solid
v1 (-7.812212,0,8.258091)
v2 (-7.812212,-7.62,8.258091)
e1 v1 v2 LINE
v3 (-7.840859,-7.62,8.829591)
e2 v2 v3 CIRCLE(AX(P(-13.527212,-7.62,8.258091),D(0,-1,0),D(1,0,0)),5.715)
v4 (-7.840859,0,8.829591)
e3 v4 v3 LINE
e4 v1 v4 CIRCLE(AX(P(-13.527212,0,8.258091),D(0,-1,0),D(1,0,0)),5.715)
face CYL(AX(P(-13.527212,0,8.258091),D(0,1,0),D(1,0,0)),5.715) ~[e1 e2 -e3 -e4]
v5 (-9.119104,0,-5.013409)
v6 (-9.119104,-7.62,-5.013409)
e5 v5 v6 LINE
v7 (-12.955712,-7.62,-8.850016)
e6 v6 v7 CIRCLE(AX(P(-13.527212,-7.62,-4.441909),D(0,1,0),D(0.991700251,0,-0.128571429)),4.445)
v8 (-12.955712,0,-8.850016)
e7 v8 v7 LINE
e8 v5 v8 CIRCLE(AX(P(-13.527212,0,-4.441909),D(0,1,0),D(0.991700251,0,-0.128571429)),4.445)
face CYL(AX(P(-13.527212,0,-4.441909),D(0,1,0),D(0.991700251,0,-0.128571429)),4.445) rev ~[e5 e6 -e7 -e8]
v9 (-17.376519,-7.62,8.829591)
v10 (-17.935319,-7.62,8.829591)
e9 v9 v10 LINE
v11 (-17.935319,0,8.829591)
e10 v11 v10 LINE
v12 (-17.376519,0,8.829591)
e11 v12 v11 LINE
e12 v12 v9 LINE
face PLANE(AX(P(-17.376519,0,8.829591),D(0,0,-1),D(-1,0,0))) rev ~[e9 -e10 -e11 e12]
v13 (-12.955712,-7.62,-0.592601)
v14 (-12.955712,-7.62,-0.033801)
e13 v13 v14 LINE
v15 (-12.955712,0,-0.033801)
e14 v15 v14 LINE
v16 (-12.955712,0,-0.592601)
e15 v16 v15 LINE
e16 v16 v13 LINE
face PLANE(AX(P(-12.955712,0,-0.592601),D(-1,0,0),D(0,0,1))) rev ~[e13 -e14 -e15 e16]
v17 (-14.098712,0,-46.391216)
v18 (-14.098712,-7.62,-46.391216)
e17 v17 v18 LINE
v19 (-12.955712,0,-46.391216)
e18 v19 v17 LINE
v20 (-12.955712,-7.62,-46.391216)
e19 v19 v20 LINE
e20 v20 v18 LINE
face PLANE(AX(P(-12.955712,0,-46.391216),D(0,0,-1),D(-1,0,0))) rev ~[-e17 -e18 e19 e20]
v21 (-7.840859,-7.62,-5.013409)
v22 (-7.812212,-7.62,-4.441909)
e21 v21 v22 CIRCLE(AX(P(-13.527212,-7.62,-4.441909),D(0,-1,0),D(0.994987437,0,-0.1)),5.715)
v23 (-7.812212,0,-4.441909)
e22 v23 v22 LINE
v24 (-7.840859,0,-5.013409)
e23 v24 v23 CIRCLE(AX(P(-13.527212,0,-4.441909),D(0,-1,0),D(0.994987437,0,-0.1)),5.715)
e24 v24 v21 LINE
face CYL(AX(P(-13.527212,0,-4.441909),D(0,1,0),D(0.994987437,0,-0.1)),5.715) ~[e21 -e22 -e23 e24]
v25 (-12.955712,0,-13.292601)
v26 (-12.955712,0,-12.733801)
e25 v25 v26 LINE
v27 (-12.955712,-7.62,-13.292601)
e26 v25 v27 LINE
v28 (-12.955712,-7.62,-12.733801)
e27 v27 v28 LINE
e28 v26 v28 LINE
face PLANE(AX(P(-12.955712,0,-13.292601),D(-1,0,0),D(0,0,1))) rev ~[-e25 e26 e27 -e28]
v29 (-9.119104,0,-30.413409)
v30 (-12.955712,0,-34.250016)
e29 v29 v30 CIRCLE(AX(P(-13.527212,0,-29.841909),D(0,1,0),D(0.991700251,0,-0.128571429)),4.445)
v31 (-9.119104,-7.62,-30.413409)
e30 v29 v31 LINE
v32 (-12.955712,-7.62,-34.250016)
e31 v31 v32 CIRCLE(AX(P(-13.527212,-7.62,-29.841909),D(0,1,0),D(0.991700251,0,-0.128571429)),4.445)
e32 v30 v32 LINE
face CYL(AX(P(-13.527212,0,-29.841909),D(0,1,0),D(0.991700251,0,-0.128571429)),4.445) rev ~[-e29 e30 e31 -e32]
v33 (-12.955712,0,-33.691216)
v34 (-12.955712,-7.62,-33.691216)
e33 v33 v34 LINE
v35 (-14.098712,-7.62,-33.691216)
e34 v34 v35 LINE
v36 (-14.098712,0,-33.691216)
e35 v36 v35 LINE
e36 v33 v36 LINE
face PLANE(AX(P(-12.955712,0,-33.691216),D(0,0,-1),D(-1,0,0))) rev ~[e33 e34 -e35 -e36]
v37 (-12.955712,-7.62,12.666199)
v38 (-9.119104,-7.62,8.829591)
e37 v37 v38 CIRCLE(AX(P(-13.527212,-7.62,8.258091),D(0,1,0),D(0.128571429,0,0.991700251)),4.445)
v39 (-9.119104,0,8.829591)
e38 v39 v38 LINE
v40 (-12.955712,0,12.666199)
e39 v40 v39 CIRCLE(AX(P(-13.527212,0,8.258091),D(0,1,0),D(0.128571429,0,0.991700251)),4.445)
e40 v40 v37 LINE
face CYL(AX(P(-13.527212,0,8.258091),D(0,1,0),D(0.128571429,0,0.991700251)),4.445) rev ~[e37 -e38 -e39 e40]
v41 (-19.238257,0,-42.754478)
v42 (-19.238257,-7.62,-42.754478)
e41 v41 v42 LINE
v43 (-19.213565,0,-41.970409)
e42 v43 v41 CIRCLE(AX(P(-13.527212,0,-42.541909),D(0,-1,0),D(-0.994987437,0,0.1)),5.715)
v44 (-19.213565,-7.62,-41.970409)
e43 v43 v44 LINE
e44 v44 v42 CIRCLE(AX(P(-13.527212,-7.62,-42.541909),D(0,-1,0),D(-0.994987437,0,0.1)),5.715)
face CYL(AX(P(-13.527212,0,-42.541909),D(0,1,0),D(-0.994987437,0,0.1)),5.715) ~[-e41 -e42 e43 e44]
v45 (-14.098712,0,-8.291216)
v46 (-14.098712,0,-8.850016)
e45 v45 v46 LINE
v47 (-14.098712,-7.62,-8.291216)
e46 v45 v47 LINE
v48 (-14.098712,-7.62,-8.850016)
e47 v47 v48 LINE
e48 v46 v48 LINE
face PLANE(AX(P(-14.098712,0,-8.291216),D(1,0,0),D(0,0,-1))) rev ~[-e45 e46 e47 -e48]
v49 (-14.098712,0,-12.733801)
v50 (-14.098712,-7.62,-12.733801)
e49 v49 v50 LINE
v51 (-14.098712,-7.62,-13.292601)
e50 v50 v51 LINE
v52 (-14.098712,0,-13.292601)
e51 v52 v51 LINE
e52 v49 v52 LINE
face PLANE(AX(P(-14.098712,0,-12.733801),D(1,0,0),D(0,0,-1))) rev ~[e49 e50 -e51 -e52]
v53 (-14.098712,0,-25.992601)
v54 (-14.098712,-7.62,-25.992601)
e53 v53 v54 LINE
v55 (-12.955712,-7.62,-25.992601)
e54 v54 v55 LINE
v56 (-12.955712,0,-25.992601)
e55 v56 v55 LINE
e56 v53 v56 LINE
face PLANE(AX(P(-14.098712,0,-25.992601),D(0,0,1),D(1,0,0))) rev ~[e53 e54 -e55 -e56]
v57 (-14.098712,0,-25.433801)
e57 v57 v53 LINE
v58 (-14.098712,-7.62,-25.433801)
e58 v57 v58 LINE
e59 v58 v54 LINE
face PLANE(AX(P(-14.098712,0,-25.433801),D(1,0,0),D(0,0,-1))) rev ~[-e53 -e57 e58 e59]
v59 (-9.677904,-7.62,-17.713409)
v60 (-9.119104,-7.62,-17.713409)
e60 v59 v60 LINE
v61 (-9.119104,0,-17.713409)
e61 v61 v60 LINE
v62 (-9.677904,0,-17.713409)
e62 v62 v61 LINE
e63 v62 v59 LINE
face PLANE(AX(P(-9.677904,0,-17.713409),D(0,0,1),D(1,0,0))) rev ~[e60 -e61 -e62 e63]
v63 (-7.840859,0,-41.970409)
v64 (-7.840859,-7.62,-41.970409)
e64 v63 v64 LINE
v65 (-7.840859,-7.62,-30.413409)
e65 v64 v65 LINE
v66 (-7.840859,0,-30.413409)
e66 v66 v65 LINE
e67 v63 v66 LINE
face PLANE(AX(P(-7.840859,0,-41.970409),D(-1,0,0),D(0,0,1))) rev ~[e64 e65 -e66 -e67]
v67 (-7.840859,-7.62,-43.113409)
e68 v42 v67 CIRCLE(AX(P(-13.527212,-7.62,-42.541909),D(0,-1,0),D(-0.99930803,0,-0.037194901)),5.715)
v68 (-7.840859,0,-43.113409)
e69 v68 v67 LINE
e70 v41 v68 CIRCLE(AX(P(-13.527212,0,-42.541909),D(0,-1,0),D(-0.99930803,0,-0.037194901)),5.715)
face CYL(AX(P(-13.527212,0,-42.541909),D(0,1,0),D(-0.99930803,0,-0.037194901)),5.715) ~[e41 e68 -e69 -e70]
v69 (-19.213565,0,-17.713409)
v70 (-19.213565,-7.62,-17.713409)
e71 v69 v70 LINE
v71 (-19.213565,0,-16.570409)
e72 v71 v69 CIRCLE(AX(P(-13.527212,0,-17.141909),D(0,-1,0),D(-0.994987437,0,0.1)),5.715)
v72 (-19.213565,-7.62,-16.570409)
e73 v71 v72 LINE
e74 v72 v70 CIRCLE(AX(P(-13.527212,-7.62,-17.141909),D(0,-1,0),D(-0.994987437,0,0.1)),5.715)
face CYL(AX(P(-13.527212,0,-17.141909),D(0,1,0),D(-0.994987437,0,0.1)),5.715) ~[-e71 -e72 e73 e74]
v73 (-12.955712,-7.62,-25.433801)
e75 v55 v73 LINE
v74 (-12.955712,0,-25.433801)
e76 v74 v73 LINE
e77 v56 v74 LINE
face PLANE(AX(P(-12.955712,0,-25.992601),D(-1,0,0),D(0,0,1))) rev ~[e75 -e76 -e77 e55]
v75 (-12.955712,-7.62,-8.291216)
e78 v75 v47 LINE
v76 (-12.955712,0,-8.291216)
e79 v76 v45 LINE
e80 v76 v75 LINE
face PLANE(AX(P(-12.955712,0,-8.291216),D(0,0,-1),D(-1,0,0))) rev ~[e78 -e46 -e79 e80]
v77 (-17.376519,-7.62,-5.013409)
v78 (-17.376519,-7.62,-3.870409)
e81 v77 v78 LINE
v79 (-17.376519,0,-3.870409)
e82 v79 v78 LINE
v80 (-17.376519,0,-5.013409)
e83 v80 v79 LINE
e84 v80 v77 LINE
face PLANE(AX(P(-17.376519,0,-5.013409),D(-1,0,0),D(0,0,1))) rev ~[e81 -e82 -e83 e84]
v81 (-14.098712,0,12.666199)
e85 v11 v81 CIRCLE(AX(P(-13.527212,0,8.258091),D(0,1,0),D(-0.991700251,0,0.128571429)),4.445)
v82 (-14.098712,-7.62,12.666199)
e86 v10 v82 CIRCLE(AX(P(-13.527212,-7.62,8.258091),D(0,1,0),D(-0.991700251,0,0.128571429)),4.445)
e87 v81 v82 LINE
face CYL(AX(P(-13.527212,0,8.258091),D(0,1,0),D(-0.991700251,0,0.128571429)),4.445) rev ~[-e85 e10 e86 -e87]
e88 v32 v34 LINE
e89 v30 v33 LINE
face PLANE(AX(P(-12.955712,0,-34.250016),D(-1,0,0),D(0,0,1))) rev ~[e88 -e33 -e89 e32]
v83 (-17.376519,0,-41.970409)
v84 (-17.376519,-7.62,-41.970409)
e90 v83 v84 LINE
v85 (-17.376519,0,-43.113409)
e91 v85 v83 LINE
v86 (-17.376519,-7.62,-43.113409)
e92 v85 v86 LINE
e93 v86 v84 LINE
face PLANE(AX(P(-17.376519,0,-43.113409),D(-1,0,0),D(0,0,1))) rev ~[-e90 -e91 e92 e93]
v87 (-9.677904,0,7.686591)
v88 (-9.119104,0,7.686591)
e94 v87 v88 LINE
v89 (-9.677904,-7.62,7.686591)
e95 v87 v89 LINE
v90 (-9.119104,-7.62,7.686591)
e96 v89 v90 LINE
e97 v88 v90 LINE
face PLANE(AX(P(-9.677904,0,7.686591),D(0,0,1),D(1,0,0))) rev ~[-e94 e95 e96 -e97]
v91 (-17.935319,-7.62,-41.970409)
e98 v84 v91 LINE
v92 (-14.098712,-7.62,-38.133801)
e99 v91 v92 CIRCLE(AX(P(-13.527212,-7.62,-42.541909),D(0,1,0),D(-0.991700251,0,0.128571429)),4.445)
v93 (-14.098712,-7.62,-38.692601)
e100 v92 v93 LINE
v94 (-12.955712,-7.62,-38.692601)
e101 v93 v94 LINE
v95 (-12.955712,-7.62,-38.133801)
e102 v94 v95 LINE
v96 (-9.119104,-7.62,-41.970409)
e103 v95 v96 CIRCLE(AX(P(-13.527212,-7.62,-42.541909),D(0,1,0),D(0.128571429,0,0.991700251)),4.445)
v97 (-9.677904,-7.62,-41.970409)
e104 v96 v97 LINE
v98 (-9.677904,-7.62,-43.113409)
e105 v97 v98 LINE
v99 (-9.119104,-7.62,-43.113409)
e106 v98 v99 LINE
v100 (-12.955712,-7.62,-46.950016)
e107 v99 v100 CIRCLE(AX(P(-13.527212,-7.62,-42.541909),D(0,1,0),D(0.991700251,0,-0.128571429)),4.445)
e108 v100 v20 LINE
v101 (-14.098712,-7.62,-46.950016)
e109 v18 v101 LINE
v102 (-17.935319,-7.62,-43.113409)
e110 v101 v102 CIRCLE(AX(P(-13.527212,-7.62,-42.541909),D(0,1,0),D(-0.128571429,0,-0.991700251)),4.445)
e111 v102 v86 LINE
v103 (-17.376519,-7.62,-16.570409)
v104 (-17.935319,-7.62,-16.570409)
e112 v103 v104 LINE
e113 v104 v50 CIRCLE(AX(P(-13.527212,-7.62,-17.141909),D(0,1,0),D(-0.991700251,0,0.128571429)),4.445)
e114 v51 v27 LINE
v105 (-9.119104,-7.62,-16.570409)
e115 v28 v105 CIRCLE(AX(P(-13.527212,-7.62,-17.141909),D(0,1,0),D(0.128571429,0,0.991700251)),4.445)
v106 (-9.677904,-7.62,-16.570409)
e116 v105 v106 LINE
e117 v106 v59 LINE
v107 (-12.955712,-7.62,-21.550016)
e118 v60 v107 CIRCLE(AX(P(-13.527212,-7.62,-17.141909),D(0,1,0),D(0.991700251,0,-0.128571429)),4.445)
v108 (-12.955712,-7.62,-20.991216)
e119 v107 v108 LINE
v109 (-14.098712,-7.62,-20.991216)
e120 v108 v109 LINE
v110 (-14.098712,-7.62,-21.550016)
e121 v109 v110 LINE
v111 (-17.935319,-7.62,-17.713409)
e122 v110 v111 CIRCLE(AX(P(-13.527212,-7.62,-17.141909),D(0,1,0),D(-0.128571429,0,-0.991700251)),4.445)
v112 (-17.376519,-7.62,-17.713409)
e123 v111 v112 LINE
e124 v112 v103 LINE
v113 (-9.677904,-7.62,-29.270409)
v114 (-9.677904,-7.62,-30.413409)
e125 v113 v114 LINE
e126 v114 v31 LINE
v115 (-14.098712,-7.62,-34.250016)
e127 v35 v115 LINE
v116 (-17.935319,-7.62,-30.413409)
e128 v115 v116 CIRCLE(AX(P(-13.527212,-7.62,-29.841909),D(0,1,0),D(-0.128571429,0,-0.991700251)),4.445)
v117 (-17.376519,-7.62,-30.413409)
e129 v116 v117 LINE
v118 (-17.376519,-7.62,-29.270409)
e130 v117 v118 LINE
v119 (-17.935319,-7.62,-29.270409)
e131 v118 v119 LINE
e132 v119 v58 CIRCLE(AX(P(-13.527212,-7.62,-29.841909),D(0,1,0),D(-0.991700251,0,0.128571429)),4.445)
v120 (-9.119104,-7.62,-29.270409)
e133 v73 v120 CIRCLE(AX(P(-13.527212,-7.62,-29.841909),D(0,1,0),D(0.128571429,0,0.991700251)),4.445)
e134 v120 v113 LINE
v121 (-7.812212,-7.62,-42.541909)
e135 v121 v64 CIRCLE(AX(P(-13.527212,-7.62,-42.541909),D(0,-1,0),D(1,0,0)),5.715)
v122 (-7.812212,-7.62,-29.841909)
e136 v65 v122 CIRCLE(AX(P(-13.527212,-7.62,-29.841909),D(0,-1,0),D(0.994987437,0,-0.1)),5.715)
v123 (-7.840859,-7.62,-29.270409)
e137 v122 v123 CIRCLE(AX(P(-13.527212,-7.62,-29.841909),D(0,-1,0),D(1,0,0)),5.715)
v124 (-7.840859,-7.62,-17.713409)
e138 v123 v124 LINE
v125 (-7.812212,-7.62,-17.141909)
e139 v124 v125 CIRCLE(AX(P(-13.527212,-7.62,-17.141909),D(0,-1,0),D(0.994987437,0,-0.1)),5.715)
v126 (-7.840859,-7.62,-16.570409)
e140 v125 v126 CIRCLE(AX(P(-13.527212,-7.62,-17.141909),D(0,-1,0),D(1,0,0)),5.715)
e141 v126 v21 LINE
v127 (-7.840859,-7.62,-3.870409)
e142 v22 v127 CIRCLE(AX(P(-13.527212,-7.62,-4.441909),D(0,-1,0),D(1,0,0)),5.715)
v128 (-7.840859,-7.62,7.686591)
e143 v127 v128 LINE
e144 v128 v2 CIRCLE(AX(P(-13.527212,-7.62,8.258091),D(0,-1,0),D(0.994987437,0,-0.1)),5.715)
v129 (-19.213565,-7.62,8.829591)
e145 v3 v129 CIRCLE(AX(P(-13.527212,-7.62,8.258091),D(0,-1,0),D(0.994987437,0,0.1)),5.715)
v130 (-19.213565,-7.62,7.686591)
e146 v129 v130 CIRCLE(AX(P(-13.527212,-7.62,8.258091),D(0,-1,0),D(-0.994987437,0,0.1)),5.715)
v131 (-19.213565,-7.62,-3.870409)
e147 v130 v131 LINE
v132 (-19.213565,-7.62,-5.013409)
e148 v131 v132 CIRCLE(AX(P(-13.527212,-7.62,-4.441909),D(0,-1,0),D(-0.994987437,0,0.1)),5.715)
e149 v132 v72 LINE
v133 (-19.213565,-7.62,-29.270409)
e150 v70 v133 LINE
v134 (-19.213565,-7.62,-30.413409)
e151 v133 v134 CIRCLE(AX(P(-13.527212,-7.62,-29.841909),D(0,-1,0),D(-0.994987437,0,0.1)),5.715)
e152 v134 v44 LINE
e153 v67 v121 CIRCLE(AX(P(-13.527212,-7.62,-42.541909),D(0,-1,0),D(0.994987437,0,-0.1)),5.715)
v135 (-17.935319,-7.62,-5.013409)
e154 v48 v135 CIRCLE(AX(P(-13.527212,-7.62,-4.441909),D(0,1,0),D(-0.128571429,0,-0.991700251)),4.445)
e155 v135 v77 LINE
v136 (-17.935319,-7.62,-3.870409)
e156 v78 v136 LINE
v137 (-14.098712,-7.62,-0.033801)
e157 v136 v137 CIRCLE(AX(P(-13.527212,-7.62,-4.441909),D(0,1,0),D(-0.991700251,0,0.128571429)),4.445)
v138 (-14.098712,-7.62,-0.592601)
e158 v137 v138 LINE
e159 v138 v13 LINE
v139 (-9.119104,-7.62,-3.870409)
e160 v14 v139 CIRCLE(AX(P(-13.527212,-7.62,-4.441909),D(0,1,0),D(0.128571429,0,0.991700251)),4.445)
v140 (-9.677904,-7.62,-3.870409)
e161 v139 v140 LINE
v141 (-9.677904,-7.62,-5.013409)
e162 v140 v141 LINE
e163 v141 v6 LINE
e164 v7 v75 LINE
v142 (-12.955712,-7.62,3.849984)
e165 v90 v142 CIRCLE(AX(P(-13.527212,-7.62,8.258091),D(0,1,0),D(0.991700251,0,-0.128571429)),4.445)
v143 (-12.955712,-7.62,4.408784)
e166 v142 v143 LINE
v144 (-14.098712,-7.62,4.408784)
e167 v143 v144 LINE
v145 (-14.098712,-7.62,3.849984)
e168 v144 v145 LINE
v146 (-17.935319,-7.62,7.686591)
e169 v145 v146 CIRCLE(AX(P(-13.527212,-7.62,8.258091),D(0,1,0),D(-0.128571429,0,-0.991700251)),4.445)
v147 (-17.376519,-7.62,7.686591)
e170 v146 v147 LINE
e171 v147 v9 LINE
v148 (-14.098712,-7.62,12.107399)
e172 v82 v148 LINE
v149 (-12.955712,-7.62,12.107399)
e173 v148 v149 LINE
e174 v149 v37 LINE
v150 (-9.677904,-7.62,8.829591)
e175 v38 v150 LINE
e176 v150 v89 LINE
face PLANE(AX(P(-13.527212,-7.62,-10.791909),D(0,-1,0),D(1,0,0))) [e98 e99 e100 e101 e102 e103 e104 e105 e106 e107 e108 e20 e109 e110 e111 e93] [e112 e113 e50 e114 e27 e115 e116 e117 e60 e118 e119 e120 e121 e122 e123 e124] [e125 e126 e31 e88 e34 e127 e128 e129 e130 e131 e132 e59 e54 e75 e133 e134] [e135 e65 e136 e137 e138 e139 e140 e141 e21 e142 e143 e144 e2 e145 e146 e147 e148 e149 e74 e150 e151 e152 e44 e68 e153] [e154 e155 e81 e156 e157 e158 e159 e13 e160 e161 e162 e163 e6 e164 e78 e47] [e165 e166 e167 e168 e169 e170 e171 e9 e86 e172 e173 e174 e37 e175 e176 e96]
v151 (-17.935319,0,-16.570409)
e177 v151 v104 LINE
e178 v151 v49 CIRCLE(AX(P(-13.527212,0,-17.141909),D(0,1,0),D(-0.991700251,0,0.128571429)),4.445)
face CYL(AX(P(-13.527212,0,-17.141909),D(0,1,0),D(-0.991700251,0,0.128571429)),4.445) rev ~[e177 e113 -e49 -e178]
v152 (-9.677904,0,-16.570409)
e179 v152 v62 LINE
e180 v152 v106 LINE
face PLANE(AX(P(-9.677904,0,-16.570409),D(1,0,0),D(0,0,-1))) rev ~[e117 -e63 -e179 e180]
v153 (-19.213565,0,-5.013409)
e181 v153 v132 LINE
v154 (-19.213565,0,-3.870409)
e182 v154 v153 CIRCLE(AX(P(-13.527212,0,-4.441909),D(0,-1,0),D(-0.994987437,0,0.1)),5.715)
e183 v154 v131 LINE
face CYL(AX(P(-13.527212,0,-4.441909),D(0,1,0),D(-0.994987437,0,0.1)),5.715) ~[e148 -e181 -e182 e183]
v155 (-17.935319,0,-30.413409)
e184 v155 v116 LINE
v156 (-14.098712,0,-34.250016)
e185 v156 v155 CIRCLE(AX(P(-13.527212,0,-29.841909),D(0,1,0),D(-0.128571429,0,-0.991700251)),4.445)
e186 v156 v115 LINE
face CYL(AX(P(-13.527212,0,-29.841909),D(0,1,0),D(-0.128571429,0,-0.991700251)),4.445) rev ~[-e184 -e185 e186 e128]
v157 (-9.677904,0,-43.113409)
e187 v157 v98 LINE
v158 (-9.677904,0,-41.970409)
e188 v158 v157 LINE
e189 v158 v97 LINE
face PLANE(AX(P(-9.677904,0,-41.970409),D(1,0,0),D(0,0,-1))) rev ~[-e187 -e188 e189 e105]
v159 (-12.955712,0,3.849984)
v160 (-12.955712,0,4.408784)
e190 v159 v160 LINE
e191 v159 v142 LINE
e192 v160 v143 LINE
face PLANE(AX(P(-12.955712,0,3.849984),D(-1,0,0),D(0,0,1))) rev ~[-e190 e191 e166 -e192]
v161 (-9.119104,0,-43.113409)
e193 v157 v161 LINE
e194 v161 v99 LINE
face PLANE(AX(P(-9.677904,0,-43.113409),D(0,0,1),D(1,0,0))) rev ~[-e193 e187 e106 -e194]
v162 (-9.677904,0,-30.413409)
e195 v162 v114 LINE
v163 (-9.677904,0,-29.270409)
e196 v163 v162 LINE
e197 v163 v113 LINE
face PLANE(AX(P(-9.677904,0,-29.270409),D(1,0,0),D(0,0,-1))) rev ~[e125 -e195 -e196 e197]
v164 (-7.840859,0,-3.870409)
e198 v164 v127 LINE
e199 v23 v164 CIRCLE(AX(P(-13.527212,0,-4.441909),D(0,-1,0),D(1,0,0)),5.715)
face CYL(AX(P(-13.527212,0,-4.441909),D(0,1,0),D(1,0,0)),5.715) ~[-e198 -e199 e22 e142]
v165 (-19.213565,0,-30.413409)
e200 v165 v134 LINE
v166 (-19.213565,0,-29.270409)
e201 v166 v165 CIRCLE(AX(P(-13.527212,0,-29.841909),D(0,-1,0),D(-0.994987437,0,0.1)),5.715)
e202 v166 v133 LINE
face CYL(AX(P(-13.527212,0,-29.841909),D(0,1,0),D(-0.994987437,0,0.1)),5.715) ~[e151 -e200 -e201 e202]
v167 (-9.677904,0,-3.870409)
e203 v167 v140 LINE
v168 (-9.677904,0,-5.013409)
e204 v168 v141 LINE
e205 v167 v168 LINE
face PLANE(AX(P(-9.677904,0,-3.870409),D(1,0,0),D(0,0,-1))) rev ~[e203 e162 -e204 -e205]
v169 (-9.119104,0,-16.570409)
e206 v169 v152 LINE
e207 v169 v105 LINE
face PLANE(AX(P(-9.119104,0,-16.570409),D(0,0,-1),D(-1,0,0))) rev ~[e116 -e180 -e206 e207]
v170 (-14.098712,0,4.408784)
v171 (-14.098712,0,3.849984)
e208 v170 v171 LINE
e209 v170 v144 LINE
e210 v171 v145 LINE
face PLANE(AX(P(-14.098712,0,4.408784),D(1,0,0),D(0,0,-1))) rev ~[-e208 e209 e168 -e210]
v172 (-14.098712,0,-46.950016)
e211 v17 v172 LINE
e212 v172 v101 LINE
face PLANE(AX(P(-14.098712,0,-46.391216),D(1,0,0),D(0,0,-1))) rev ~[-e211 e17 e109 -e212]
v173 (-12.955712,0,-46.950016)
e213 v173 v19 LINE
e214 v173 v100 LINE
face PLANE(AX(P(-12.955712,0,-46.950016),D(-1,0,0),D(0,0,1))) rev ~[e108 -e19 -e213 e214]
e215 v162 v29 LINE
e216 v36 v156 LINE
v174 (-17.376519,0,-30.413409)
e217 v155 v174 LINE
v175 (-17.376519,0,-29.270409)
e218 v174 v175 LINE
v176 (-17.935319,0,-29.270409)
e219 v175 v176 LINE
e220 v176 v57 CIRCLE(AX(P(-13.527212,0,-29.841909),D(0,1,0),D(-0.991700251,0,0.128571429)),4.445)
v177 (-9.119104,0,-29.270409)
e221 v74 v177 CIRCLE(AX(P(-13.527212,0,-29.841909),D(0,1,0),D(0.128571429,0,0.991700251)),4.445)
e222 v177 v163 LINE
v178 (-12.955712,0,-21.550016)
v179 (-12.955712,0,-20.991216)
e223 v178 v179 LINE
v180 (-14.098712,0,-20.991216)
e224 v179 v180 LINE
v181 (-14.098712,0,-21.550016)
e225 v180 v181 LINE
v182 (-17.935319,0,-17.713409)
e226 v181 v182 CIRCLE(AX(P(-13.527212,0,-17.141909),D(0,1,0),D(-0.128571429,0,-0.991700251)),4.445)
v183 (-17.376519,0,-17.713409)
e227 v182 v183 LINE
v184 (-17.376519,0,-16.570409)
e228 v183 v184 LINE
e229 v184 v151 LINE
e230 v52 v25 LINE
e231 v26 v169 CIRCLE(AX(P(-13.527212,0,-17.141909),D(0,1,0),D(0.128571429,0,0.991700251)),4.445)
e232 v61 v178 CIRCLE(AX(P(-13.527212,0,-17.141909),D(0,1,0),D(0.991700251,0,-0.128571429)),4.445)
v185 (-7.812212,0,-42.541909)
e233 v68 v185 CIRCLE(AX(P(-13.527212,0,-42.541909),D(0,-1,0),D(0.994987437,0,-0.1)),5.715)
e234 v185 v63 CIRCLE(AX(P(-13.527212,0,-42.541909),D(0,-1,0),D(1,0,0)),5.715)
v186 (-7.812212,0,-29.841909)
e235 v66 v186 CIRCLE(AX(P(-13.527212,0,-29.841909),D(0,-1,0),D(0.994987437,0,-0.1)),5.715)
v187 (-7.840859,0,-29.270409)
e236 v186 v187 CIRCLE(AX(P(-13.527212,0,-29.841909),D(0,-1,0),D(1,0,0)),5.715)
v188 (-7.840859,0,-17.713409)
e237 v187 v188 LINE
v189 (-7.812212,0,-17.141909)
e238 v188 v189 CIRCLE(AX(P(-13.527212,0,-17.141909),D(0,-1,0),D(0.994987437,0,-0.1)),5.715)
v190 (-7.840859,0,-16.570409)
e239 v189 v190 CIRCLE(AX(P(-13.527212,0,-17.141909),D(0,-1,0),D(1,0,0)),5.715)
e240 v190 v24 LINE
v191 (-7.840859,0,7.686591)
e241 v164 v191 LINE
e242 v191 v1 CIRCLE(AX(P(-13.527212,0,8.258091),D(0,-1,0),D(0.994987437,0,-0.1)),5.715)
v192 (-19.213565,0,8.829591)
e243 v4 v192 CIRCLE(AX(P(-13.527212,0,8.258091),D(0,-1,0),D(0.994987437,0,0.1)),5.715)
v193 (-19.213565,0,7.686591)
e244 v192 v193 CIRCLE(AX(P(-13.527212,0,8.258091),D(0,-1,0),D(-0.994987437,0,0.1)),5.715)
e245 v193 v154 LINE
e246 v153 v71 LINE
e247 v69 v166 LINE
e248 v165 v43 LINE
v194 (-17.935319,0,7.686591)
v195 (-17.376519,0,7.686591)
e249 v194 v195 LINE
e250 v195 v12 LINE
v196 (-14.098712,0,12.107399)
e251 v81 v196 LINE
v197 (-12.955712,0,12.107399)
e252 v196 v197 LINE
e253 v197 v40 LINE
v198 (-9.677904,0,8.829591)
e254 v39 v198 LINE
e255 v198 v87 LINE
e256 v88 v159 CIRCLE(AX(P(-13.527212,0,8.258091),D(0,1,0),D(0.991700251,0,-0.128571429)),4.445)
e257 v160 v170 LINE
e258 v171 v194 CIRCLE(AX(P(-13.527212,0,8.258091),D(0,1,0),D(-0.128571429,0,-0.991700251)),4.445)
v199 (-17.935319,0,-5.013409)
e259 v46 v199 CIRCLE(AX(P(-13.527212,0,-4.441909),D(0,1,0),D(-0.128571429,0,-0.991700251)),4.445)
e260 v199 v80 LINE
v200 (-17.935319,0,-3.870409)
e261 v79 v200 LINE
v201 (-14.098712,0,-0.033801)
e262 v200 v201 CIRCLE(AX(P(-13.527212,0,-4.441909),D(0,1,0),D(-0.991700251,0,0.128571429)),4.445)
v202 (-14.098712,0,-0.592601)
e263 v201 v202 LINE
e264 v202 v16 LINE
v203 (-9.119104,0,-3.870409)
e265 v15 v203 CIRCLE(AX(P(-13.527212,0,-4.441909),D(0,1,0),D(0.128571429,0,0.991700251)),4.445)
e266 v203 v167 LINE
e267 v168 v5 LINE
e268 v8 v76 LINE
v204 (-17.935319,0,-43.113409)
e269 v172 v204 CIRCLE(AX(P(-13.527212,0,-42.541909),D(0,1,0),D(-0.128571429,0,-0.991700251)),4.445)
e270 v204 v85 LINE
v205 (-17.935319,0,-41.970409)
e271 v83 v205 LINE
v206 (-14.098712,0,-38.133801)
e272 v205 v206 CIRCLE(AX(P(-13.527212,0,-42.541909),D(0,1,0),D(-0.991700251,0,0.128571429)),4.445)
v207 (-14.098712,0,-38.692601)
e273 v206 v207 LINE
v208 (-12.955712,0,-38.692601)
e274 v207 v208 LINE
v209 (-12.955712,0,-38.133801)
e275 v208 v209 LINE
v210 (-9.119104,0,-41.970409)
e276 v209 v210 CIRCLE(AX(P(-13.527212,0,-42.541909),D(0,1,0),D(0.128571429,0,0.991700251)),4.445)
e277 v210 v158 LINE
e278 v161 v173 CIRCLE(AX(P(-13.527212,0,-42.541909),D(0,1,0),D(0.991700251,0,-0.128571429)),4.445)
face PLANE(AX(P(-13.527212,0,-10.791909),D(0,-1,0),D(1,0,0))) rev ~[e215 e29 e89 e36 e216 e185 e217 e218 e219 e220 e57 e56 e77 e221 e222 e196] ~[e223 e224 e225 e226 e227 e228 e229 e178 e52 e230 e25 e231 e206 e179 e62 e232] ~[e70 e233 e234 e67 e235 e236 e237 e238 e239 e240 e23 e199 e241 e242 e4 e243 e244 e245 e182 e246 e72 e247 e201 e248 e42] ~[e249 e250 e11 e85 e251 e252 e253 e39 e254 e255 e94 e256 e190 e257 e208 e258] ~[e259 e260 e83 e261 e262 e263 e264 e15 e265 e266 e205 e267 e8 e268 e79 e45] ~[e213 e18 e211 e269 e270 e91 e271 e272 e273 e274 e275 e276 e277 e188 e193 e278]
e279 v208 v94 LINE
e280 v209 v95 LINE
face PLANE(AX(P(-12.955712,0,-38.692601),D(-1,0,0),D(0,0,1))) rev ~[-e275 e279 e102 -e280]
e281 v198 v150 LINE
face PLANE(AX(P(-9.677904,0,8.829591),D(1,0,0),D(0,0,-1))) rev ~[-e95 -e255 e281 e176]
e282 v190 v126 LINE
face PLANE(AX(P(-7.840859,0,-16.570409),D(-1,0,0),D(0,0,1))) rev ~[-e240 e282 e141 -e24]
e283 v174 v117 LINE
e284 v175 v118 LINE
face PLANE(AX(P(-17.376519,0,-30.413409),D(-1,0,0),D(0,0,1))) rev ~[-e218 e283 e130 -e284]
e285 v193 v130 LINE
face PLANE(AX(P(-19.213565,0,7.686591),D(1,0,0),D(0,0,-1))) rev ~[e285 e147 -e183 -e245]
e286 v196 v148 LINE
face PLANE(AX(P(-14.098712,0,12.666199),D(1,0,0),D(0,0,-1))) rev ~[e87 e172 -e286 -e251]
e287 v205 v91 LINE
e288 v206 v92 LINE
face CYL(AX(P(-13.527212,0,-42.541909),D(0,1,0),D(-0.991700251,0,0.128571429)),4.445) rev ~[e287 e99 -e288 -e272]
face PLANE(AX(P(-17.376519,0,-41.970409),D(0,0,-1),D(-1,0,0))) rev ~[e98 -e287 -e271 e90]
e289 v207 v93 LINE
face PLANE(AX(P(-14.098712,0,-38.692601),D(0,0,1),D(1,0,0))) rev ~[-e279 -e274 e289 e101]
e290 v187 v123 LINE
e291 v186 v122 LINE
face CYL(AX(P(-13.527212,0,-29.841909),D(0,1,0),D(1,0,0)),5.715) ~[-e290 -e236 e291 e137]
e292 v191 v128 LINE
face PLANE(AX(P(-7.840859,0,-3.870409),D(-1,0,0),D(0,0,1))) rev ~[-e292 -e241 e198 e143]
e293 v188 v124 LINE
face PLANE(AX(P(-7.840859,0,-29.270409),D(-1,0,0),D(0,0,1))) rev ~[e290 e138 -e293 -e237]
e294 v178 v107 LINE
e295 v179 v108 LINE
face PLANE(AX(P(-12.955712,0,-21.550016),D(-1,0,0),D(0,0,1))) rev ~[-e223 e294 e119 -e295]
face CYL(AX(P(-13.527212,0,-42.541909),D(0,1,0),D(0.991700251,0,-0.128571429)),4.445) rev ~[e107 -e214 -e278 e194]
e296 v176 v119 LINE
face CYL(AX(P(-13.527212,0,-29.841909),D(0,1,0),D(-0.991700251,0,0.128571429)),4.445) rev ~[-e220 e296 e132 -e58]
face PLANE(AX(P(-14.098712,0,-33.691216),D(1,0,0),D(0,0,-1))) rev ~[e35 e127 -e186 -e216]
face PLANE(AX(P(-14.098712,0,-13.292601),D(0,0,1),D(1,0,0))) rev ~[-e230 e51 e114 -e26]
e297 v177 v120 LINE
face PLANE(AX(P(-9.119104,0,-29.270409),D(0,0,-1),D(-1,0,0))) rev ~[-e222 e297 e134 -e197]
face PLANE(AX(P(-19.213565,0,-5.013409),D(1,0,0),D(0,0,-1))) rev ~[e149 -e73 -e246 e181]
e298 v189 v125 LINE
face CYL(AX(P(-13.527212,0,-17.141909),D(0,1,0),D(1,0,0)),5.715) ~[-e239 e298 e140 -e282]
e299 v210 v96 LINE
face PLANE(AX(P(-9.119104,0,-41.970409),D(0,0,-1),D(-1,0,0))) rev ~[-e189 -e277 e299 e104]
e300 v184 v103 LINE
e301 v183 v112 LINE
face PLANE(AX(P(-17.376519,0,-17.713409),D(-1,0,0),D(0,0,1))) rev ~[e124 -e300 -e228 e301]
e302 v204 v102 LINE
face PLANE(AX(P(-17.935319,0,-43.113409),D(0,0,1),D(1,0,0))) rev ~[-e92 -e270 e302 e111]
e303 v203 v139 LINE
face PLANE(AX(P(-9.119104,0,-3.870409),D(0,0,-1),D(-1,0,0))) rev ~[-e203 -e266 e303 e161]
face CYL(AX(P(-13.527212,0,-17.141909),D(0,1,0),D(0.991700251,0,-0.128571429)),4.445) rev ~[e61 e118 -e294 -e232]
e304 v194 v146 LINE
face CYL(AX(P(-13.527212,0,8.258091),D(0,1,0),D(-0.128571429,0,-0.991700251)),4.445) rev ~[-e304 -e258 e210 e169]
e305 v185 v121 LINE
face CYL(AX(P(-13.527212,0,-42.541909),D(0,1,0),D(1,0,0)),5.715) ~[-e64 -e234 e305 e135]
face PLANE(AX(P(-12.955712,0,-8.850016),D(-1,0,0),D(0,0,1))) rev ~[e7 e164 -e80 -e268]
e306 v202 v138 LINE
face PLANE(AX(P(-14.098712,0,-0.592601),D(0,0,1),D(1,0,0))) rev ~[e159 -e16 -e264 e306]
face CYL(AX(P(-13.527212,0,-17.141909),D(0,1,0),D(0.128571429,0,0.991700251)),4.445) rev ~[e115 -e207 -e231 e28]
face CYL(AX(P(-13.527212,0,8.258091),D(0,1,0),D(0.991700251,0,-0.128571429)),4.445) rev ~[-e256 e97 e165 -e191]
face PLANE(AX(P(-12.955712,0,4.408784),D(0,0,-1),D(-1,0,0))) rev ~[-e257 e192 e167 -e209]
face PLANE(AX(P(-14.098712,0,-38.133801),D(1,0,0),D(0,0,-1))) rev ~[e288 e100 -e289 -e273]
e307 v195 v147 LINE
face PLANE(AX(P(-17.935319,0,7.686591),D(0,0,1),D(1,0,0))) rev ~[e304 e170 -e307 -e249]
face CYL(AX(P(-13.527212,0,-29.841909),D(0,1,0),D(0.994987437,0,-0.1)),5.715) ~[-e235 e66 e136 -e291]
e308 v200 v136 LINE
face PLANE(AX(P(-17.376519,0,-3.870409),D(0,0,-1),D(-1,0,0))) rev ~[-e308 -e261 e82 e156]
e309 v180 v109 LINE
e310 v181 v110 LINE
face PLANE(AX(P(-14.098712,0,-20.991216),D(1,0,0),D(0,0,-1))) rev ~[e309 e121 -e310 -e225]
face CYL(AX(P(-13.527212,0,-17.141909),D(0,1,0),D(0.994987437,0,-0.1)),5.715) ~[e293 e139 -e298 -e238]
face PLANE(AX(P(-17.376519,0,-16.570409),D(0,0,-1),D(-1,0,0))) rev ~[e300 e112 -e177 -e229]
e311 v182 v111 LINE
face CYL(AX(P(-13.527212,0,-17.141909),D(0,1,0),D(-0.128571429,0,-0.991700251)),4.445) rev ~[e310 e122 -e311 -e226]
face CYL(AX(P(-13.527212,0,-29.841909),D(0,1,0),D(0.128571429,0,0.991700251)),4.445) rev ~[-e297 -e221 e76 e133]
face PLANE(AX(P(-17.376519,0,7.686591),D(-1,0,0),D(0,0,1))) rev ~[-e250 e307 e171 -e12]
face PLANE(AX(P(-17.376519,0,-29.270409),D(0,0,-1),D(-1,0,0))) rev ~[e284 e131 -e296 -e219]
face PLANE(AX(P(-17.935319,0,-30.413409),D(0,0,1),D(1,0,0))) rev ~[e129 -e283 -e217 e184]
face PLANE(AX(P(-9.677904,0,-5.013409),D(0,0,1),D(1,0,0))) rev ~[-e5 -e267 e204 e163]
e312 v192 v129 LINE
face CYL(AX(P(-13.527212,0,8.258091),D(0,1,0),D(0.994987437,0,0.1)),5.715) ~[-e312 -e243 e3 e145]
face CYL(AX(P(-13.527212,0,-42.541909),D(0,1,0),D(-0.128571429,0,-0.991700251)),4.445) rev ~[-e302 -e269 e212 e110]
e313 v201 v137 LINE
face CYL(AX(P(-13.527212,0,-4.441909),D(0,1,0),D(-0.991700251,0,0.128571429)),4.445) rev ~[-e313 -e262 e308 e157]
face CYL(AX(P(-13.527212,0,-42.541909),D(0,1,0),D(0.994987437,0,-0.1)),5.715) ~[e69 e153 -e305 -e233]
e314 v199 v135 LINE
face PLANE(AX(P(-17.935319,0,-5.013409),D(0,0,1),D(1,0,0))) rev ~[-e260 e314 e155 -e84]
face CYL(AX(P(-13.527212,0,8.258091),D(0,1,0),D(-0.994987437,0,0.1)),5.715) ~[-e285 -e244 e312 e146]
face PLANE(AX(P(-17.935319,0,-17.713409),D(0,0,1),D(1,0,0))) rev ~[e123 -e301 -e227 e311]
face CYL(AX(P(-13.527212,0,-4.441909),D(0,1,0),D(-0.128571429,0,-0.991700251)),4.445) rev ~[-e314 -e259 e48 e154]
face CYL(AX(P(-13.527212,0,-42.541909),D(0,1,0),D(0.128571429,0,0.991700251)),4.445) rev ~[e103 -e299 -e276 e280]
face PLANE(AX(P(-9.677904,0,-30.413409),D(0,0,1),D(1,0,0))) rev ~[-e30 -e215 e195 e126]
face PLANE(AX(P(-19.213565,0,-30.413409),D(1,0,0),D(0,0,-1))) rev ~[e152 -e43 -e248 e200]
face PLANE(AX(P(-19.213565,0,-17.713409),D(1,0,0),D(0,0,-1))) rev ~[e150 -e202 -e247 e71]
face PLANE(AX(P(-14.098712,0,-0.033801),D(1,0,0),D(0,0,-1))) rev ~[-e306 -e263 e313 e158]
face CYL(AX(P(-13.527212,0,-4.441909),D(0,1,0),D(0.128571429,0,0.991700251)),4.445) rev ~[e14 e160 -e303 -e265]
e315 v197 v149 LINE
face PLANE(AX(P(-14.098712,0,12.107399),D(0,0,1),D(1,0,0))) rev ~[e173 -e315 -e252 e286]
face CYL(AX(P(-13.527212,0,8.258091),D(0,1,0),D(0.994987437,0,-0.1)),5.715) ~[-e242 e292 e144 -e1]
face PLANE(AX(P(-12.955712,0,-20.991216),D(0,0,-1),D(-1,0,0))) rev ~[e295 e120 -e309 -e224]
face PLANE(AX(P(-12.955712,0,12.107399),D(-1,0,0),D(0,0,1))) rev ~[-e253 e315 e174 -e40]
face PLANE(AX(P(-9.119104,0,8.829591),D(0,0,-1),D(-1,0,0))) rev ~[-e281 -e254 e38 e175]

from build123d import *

# Parameters (mm, degrees)
F1_DEPTH = 7.62


with BuildPart() as f1:
    # F0 (on Front) → F1 (new body)
    with BuildSketch(Plane.XZ):
        with BuildLine():
            Line((-7.840858501, -16.5704088648), (-7.840858501, -5.0134088648))
            ThreePointArc((-7.840858501, -5.0134088648), (-13.5272117041, -10.1569088648), (-19.2135649071, -5.0134088648))
            Line((-19.2135649071, -5.0134088648), (-19.2135649071, -16.5704088648))
            ThreePointArc((-19.2135649071, -16.5704088648), (-13.5272117041, -11.4269088648), (-7.840858501, -16.5704088648))
        make_face()
        with BuildLine():
            Line((-7.840858501, -5.0134088648), (-7.840858501, -3.8704088648))
            ThreePointArc((-7.840858501, -3.8704088648), (-13.5272117041, 1.2730911352), (-19.2135649071, -3.8704088648))
            Line((-19.2135649071, -3.8704088648), (-19.2135649071, -5.0134088648))
            ThreePointArc((-19.2135649071, -5.0134088648), (-13.5272117041, -10.1569088648), (-7.840858501, -5.0134088648))
        make_face()
        with BuildLine():
            ThreePointArc((-9.1191040886, -3.8704088648), (-9.0914443888, -4.1555640997), (-9.0822117041, -4.4419088648))
            ThreePointArc((-9.0822117041, -4.4419088648), (-9.0914443888, -4.7282536299), (-9.1191040886, -5.0134088648))
            ThreePointArc((-9.1191040886, -5.0134088648), (-10.3841220617, -7.5849985072), (-12.9557117041, -8.8500164803))
            ThreePointArc((-12.9557117041, -8.8500164803), (-13.5272117041, -8.8869088648), (-14.0987117041, -8.8500164803))
            ThreePointArc((-14.0987117041, -8.8500164803), (-16.6703013465, -7.5849985072), (-17.9353193196, -5.0134088648))
            ThreePointArc((-17.9353193196, -5.0134088648), (-17.9722117041, -4.4419088648), (-17.9353193196, -3.8704088648))
            ThreePointArc((-17.9353193196, -3.8704088648), (-16.6703013465, -1.2988192224), (-14.0987117041, -0.0338012493))
            ThreePointArc((-14.0987117041, -0.0338012493), (-13.5272117041, 0.0030911352), (-12.9557117041, -0.0338012493))
            ThreePointArc((-12.9557117041, -0.0338012493), (-10.3841220617, -1.2988192224), (-9.1191040886, -3.8704088648))
        make_face(mode=Mode.SUBTRACT)
        with BuildLine():
            Line((-7.840858501, -41.9704088648), (-7.840858501, -30.4134088648))
            ThreePointArc((-7.840858501, -30.4134088648), (-13.5272117041, -35.5569088648), (-19.2135649071, -30.4134088648))
            Line((-19.2135649071, -30.4134088648), (-19.2135649071, -41.9704088648))
            ThreePointArc((-19.2135649071, -41.9704088648), (-13.5272117041, -36.8269088648), (-7.840858501, -41.9704088648))
        make_face()
        with BuildLine():
            Line((-7.840858501, -30.4134088648), (-7.840858501, -29.2704088648))
            ThreePointArc((-7.840858501, -29.2704088648), (-13.5272117041, -24.1269088648), (-19.2135649071, -29.2704088648))
            Line((-19.2135649071, -29.2704088648), (-19.2135649071, -30.4134088648))
            ThreePointArc((-19.2135649071, -30.4134088648), (-13.5272117041, -35.5569088648), (-7.840858501, -30.4134088648))
        make_face()
        with BuildLine():
            ThreePointArc((-9.1191040886, -29.2704088648), (-9.0914443888, -29.5555640997), (-9.0822117041, -29.8419088648))
            ThreePointArc((-9.0822117041, -29.8419088648), (-9.0914443888, -30.1282536299), (-9.1191040886, -30.4134088648))
            ThreePointArc((-9.1191040886, -30.4134088648), (-10.3841220617, -32.9849985072), (-12.9557117041, -34.2500164803))
            ThreePointArc((-12.9557117041, -34.2500164803), (-13.5272117041, -34.2869088648), (-14.0987117041, -34.2500164803))
            ThreePointArc((-14.0987117041, -34.2500164803), (-16.6703013465, -32.9849985072), (-17.9353193196, -30.4134088648))
            ThreePointArc((-17.9353193196, -30.4134088648), (-17.9722117041, -29.8419088648), (-17.9353193196, -29.2704088648))
            ThreePointArc((-17.9353193196, -29.2704088648), (-16.6703013465, -26.6988192224), (-14.0987117041, -25.4338012493))
            ThreePointArc((-14.0987117041, -25.4338012493), (-13.5272117041, -25.3969088648), (-12.9557117041, -25.4338012493))
            ThreePointArc((-12.9557117041, -25.4338012493), (-10.3841220617, -26.6988192224), (-9.1191040886, -29.2704088648))
        make_face(mode=Mode.SUBTRACT)
        with BuildLine():
            Line((-7.840858501, -3.8704088648), (-7.840858501, 7.6865911352))
            ThreePointArc((-7.840858501, 7.6865911352), (-13.5272117041, 2.5430911352), (-19.2135649071, 7.6865911352))
            Line((-19.2135649071, 7.6865911352), (-19.2135649071, -3.8704088648))
            ThreePointArc((-19.2135649071, -3.8704088648), (-13.5272117041, 1.2730911352), (-7.840858501, -3.8704088648))
        make_face()
        with BuildLine():
            Line((-7.840858501, -29.2704088648), (-7.840858501, -17.7134088648))
            ThreePointArc((-7.840858501, -17.7134088648), (-13.5272117041, -22.8569088648), (-19.2135649071, -17.7134088648))
            Line((-19.2135649071, -17.7134088648), (-19.2135649071, -29.2704088648))
            ThreePointArc((-19.2135649071, -29.2704088648), (-13.5272117041, -24.1269088648), (-7.840858501, -29.2704088648))
        make_face()
        with BuildLine():
            Line((-7.840858501, -17.7134088648), (-7.840858501, -16.5704088648))
            ThreePointArc((-7.840858501, -16.5704088648), (-13.5272117041, -11.4269088648), (-19.2135649071, -16.5704088648))
            Line((-19.2135649071, -16.5704088648), (-19.2135649071, -17.7134088648))
            ThreePointArc((-19.2135649071, -17.7134088648), (-13.5272117041, -22.8569088648), (-7.840858501, -17.7134088648))
        make_face()
        with BuildLine():
            ThreePointArc((-9.1191040886, -16.5704088648), (-9.0914443888, -16.8555640997), (-9.0822117041, -17.1419088648))
            ThreePointArc((-9.0822117041, -17.1419088648), (-9.0914443888, -17.4282536299), (-9.1191040886, -17.7134088648))
            ThreePointArc((-9.1191040886, -17.7134088648), (-10.3841220617, -20.2849985072), (-12.9557117041, -21.5500164803))
            ThreePointArc((-12.9557117041, -21.5500164803), (-13.5272117041, -21.5869088648), (-14.0987117041, -21.5500164803))
            ThreePointArc((-14.0987117041, -21.5500164803), (-16.6703013465, -20.2849985072), (-17.9353193196, -17.7134088648))
            ThreePointArc((-17.9353193196, -17.7134088648), (-17.9722117041, -17.1419088648), (-17.9353193196, -16.5704088648))
            ThreePointArc((-17.9353193196, -16.5704088648), (-16.6703013465, -13.9988192224), (-14.0987117041, -12.7338012493))
            ThreePointArc((-14.0987117041, -12.7338012493), (-13.5272117041, -12.6969088648), (-12.9557117041, -12.7338012493))
            ThreePointArc((-12.9557117041, -12.7338012493), (-10.3841220617, -13.9988192224), (-9.1191040886, -16.5704088648))
        make_face(mode=Mode.SUBTRACT)
        with BuildLine():
            Line((-7.840858501, 7.6865911352), (-7.840858501, 8.8295911352))
            ThreePointArc((-7.840858501, 8.8295911352), (-13.5272117041, 13.9730911352), (-19.2135649071, 8.8295911352))
            Line((-19.2135649071, 8.8295911352), (-19.2135649071, 7.6865911352))
            ThreePointArc((-19.2135649071, 7.6865911352), (-13.5272117041, 2.5430911352), (-7.840858501, 7.6865911352))
        make_face()
        with BuildLine():
            ThreePointArc((-9.1191040886, 8.8295911352), (-9.0914443888, 8.5444359003), (-9.0822117041, 8.2580911352))
            ThreePointArc((-9.0822117041, 8.2580911352), (-9.0914443888, 7.9717463701), (-9.1191040886, 7.6865911352))
            ThreePointArc((-9.1191040886, 7.6865911352), (-10.3841220617, 5.1150014928), (-12.9557117041, 3.8499835197))
            ThreePointArc((-12.9557117041, 3.8499835197), (-13.5272117041, 3.8130911352), (-14.0987117041, 3.8499835197))
            ThreePointArc((-14.0987117041, 3.8499835197), (-16.6703013465, 5.1150014928), (-17.9353193196, 7.6865911352))
            ThreePointArc((-17.9353193196, 7.6865911352), (-17.9722117041, 8.2580911352), (-17.9353193196, 8.8295911352))
            ThreePointArc((-17.9353193196, 8.8295911352), (-16.6703013465, 11.4011807776), (-14.0987117041, 12.6661987507))
            ThreePointArc((-14.0987117041, 12.6661987507), (-13.5272117041, 12.7030911352), (-12.9557117041, 12.6661987507))
            ThreePointArc((-12.9557117041, 12.6661987507), (-10.3841220617, 11.4011807776), (-9.1191040886, 8.8295911352))
        make_face(mode=Mode.SUBTRACT)
        with BuildLine():
            Line((-7.840858501, -43.1134088648), (-7.840858501, -41.9704088648))
            ThreePointArc((-7.840858501, -41.9704088648), (-13.5272117041, -36.8269088648), (-19.2135649071, -41.9704088648))
            Line((-19.2135649071, -41.9704088648), (-19.2135649071, -42.5419088648))
            Line((-19.2135649071, -42.5419088648), (-19.238257097, -42.7544777244))
            ThreePointArc((-19.238257097, -42.7544777244), (-13.7071014396, -48.2540769894), (-7.840858501, -43.1134088648))
        make_face()
        with BuildLine():
            ThreePointArc((-9.1191040886, -41.9704088648), (-9.0914443888, -42.2555640997), (-9.0822117041, -42.5419088648))
            ThreePointArc((-9.0822117041, -42.5419088648), (-9.0914443888, -42.8282536299), (-9.1191040886, -43.1134088648))
            ThreePointArc((-9.1191040886, -43.1134088648), (-10.3841220617, -45.6849985072), (-12.9557117041, -46.9500164803))
            ThreePointArc((-12.9557117041, -46.9500164803), (-13.5272117041, -46.9869088648), (-14.0987117041, -46.9500164803))
            ThreePointArc((-14.0987117041, -46.9500164803), (-16.6703013465, -45.6849985072), (-17.9353193196, -43.1134088648))
            ThreePointArc((-17.9353193196, -43.1134088648), (-17.9722117041, -42.5419088648), (-17.9353193196, -41.9704088648))
            ThreePointArc((-17.9353193196, -41.9704088648), (-16.6703013465, -39.3988192224), (-14.0987117041, -38.1338012493))
            ThreePointArc((-14.0987117041, -38.1338012493), (-13.5272117041, -38.0969088648), (-12.9557117041, -38.1338012493))
            ThreePointArc((-12.9557117041, -38.1338012493), (-10.3841220617, -39.3988192224), (-9.1191040886, -41.9704088648))
        make_face(mode=Mode.SUBTRACT)
        with BuildLine():
            Line((-12.9557117041, -25.9926012493), (-12.9557117041, -25.4338012493))
            ThreePointArc((-12.9557117041, -25.4338012493), (-13.5272117041, -25.3969088648), (-14.0987117041, -25.4338012493))
            Line((-14.0987117041, -25.4338012493), (-14.0987117041, -25.9926012493))
            Line((-14.0987117041, -25.9926012493), (-12.9557117041, -25.9926012493))
        make_face()
        with BuildLine():
            Line((-19.2135649071, 7.6865911352), (-19.2135649071, 8.8295911352))
            ThreePointArc((-19.2135649071, 8.8295911352), (-19.2422117041, 8.2580911352), (-19.2135649071, 7.6865911352))
        make_face()
        with BuildLine():
            ThreePointArc((-7.840858501, 7.6865911352), (-7.8193778963, 7.9719823757), (-7.8122117041, 8.2580911352))
            ThreePointArc((-7.8122117041, 8.2580911352), (-7.8193778963, 8.5441998947), (-7.840858501, 8.8295911352))
            Line((-7.840858501, 8.8295911352), (-7.840858501, 7.6865911352))
        make_face()
        with BuildLine():
            Line((-19.2135649071, -5.0134088648), (-19.2135649071, -3.8704088648))
            ThreePointArc((-19.2135649071, -3.8704088648), (-19.2422117041, -4.4419088648), (-19.2135649071, -5.0134088648))
        make_face()
        with BuildLine():
            ThreePointArc((-7.8122117041, -17.1419088648), (-7.8193778963, -16.8558001053), (-7.840858501, -16.5704088648))
            Line((-7.840858501, -16.5704088648), (-7.840858501, -17.7134088648))
            ThreePointArc((-7.840858501, -17.7134088648), (-7.8193778963, -17.4280176243), (-7.8122117041, -17.1419088648))
        make_face()
        with BuildLine():
            ThreePointArc((-7.8122117041, -42.5419088648), (-7.8193778963, -42.2558001053), (-7.840858501, -41.9704088648))
            Line((-7.840858501, -41.9704088648), (-7.840858501, -43.1134088648))
            ThreePointArc((-7.840858501, -43.1134088648), (-7.8193778963, -42.8280176243), (-7.8122117041, -42.5419088648))
        make_face()
        with BuildLine():
            Line((-12.9557117041, -13.2926012493), (-12.9557117041, -12.7338012493))
            ThreePointArc((-12.9557117041, -12.7338012493), (-13.5272117041, -12.6969088648), (-14.0987117041, -12.7338012493))
            Line((-14.0987117041, -12.7338012493), (-14.0987117041, -13.2926012493))
            Line((-14.0987117041, -13.2926012493), (-12.9557117041, -13.2926012493))
        make_face()
        with BuildLine():
            Line((-12.9557117041, -0.5926012493), (-12.9557117041, -0.0338012493))
            ThreePointArc((-12.9557117041, -0.0338012493), (-13.5272117041, 0.0030911352), (-14.0987117041, -0.0338012493))
            Line((-14.0987117041, -0.0338012493), (-14.0987117041, -0.5926012493))
            Line((-14.0987117041, -0.5926012493), (-12.9557117041, -0.5926012493))
        make_face()
        with BuildLine():
            Line((-12.9557117041, -38.6926012493), (-12.9557117041, -38.1338012493))
            ThreePointArc((-12.9557117041, -38.1338012493), (-13.5272117041, -38.0969088648), (-14.0987117041, -38.1338012493))
            Line((-14.0987117041, -38.1338012493), (-14.0987117041, -38.6926012493))
            Line((-14.0987117041, -38.6926012493), (-12.9557117041, -38.6926012493))
        make_face()
        with BuildLine():
            ThreePointArc((-7.8122117041, -4.4419088648), (-7.8193778963, -4.1558001053), (-7.840858501, -3.8704088648))
            Line((-7.840858501, -3.8704088648), (-7.840858501, -5.0134088648))
            ThreePointArc((-7.840858501, -5.0134088648), (-7.8193778963, -4.7280176243), (-7.8122117041, -4.4419088648))
        make_face()
        with BuildLine():
            Line((-19.2135649071, -17.7134088648), (-19.2135649071, -16.5704088648))
            ThreePointArc((-19.2135649071, -16.5704088648), (-19.2422117041, -17.1419088648), (-19.2135649071, -17.7134088648))
        make_face()
        with BuildLine():
            Line((-19.2135649071, -30.4134088648), (-19.2135649071, -29.2704088648))
            ThreePointArc((-19.2135649071, -29.2704088648), (-19.2422117041, -29.8419088648), (-19.2135649071, -30.4134088648))
        make_face()
        with BuildLine():
            ThreePointArc((-7.8122117041, -29.8419088648), (-7.8193778963, -29.5558001053), (-7.840858501, -29.2704088648))
            Line((-7.840858501, -29.2704088648), (-7.840858501, -30.4134088648))
            ThreePointArc((-7.840858501, -30.4134088648), (-7.8193778963, -30.1280176243), (-7.8122117041, -29.8419088648))
        make_face()
        with BuildLine():
            Line((-12.9557117041, 12.1073987507), (-12.9557117041, 12.6661987507))
            ThreePointArc((-12.9557117041, 12.6661987507), (-13.5272117041, 12.7030911352), (-14.0987117041, 12.6661987507))
            Line((-14.0987117041, 12.6661987507), (-14.0987117041, 12.1073987507))
            Line((-14.0987117041, 12.1073987507), (-12.9557117041, 12.1073987507))
        make_face()
        with BuildLine():
            Line((-19.2135649071, -42.5419088648), (-19.2135649071, -41.9704088648))
            ThreePointArc((-19.2135649071, -41.9704088648), (-19.2393798286, -42.3620191293), (-19.238257097, -42.7544777244))
            Line((-19.238257097, -42.7544777244), (-19.2135649071, -42.5419088648))
        make_face()
        with BuildLine():
            ThreePointArc((-9.1191040886, -30.4134088648), (-9.0914443888, -30.1282536299), (-9.0822117041, -29.8419088648))
            ThreePointArc((-9.0822117041, -29.8419088648), (-9.0914443888, -29.5555640997), (-9.1191040886, -29.2704088648))
            Line((-9.1191040886, -29.2704088648), (-9.6779040886, -29.2704088648))
            Line((-9.6779040886, -29.2704088648), (-9.6779040886, -30.4134088648))
            Line((-9.6779040886, -30.4134088648), (-9.1191040886, -30.4134088648))
        make_face()
        with BuildLine():
            Line((-17.3765193196, -29.2704088648), (-17.9353193196, -29.2704088648))
            ThreePointArc((-17.9353193196, -29.2704088648), (-17.9722117041, -29.8419088648), (-17.9353193196, -30.4134088648))
            Line((-17.9353193196, -30.4134088648), (-17.3765193196, -30.4134088648))
            Line((-17.3765193196, -30.4134088648), (-17.3765193196, -29.2704088648))
        make_face()
        with BuildLine():
            ThreePointArc((-9.1191040886, -5.0134088648), (-9.0914443888, -4.7282536299), (-9.0822117041, -4.4419088648))
            ThreePointArc((-9.0822117041, -4.4419088648), (-9.0914443888, -4.1555640997), (-9.1191040886, -3.8704088648))
            Line((-9.1191040886, -3.8704088648), (-9.6779040886, -3.8704088648))
            Line((-9.6779040886, -3.8704088648), (-9.6779040886, -5.0134088648))
            Line((-9.6779040886, -5.0134088648), (-9.1191040886, -5.0134088648))
        make_face()
        with BuildLine():
            ThreePointArc((-14.0987117041, -21.5500164803), (-13.5272117041, -21.5869088648), (-12.9557117041, -21.5500164803))
            Line((-12.9557117041, -21.5500164803), (-12.9557117041, -20.9912164803))
            Line((-12.9557117041, -20.9912164803), (-14.0987117041, -20.9912164803))
            Line((-14.0987117041, -20.9912164803), (-14.0987117041, -21.5500164803))
        make_face()
        with BuildLine():
            Line((-17.3765193196, -41.9704088648), (-17.9353193196, -41.9704088648))
            ThreePointArc((-17.9353193196, -41.9704088648), (-17.9722117041, -42.5419088648), (-17.9353193196, -43.1134088648))
            Line((-17.9353193196, -43.1134088648), (-17.3765193196, -43.1134088648))
            Line((-17.3765193196, -43.1134088648), (-17.3765193196, -41.9704088648))
        make_face()
        with BuildLine():
            ThreePointArc((-9.1191040886, -17.7134088648), (-9.0914443888, -17.4282536299), (-9.0822117041, -17.1419088648))
            ThreePointArc((-9.0822117041, -17.1419088648), (-9.0914443888, -16.8555640997), (-9.1191040886, -16.5704088648))
            Line((-9.1191040886, -16.5704088648), (-9.6779040886, -16.5704088648))
            Line((-9.6779040886, -16.5704088648), (-9.6779040886, -17.7134088648))
            Line((-9.6779040886, -17.7134088648), (-9.1191040886, -17.7134088648))
        make_face()
        with BuildLine():
            ThreePointArc((-14.0987117041, -46.9500164803), (-13.5272117041, -46.9869088648), (-12.9557117041, -46.9500164803))
            Line((-12.9557117041, -46.9500164803), (-12.9557117041, -46.3912164803))
            Line((-12.9557117041, -46.3912164803), (-14.0987117041, -46.3912164803))
            Line((-14.0987117041, -46.3912164803), (-14.0987117041, -46.9500164803))
        make_face()
        with BuildLine():
            Line((-17.3765193196, -3.8704088648), (-17.9353193196, -3.8704088648))
            ThreePointArc((-17.9353193196, -3.8704088648), (-17.9722117041, -4.4419088648), (-17.9353193196, -5.0134088648))
            Line((-17.9353193196, -5.0134088648), (-17.3765193196, -5.0134088648))
            Line((-17.3765193196, -5.0134088648), (-17.3765193196, -3.8704088648))
        make_face()
        with BuildLine():
            ThreePointArc((-9.1191040886, 7.6865911352), (-9.0914443888, 7.9717463701), (-9.0822117041, 8.2580911352))
            ThreePointArc((-9.0822117041, 8.2580911352), (-9.0914443888, 8.5444359003), (-9.1191040886, 8.8295911352))
            Line((-9.1191040886, 8.8295911352), (-9.6779040886, 8.8295911352))
            Line((-9.6779040886, 8.8295911352), (-9.6779040886, 7.6865911352))
            Line((-9.6779040886, 7.6865911352), (-9.1191040886, 7.6865911352))
        make_face()
        with BuildLine():
            ThreePointArc((-14.0987117041, -8.8500164803), (-13.5272117041, -8.8869088648), (-12.9557117041, -8.8500164803))
            Line((-12.9557117041, -8.8500164803), (-12.9557117041, -8.2912164803))
            Line((-12.9557117041, -8.2912164803), (-14.0987117041, -8.2912164803))
            Line((-14.0987117041, -8.2912164803), (-14.0987117041, -8.8500164803))
        make_face()
        with BuildLine():
            Line((-17.3765193196, -16.5704088648), (-17.9353193196, -16.5704088648))
            ThreePointArc((-17.9353193196, -16.5704088648), (-17.9722117041, -17.1419088648), (-17.9353193196, -17.7134088648))
            Line((-17.9353193196, -17.7134088648), (-17.3765193196, -17.7134088648))
            Line((-17.3765193196, -17.7134088648), (-17.3765193196, -16.5704088648))
        make_face()
        with BuildLine():
            Line((-17.3765193196, 8.8295911352), (-17.9353193196, 8.8295911352))
            ThreePointArc((-17.9353193196, 8.8295911352), (-17.9722117041, 8.2580911352), (-17.9353193196, 7.6865911352))
            Line((-17.9353193196, 7.6865911352), (-17.3765193196, 7.6865911352))
            Line((-17.3765193196, 7.6865911352), (-17.3765193196, 8.8295911352))
        make_face()
        with BuildLine():
            ThreePointArc((-14.0987117041, 3.8499835197), (-13.5272117041, 3.8130911352), (-12.9557117041, 3.8499835197))
            Line((-12.9557117041, 3.8499835197), (-12.9557117041, 4.4087835197))
            Line((-12.9557117041, 4.4087835197), (-14.0987117041, 4.4087835197))
            Line((-14.0987117041, 4.4087835197), (-14.0987117041, 3.8499835197))
        make_face()
        with BuildLine():
            ThreePointArc((-9.1191040886, -43.1134088648), (-9.0914443888, -42.8282536299), (-9.0822117041, -42.5419088648))
            ThreePointArc((-9.0822117041, -42.5419088648), (-9.0914443888, -42.2555640997), (-9.1191040886, -41.9704088648))
            Line((-9.1191040886, -41.9704088648), (-9.6779040886, -41.9704088648))
            Line((-9.6779040886, -41.9704088648), (-9.6779040886, -43.1134088648))
            Line((-9.6779040886, -43.1134088648), (-9.1191040886, -43.1134088648))
        make_face()
        with BuildLine():
            ThreePointArc((-14.0987117041, -34.2500164803), (-13.5272117041, -34.2869088648), (-12.9557117041, -34.2500164803))
            Line((-12.9557117041, -34.2500164803), (-12.9557117041, -33.6912164803))
            Line((-12.9557117041, -33.6912164803), (-14.0987117041, -33.6912164803))
            Line((-14.0987117041, -33.6912164803), (-14.0987117041, -34.2500164803))
        make_face()
    extrude(amount=F1_DEPTH)


solid = f1.part
